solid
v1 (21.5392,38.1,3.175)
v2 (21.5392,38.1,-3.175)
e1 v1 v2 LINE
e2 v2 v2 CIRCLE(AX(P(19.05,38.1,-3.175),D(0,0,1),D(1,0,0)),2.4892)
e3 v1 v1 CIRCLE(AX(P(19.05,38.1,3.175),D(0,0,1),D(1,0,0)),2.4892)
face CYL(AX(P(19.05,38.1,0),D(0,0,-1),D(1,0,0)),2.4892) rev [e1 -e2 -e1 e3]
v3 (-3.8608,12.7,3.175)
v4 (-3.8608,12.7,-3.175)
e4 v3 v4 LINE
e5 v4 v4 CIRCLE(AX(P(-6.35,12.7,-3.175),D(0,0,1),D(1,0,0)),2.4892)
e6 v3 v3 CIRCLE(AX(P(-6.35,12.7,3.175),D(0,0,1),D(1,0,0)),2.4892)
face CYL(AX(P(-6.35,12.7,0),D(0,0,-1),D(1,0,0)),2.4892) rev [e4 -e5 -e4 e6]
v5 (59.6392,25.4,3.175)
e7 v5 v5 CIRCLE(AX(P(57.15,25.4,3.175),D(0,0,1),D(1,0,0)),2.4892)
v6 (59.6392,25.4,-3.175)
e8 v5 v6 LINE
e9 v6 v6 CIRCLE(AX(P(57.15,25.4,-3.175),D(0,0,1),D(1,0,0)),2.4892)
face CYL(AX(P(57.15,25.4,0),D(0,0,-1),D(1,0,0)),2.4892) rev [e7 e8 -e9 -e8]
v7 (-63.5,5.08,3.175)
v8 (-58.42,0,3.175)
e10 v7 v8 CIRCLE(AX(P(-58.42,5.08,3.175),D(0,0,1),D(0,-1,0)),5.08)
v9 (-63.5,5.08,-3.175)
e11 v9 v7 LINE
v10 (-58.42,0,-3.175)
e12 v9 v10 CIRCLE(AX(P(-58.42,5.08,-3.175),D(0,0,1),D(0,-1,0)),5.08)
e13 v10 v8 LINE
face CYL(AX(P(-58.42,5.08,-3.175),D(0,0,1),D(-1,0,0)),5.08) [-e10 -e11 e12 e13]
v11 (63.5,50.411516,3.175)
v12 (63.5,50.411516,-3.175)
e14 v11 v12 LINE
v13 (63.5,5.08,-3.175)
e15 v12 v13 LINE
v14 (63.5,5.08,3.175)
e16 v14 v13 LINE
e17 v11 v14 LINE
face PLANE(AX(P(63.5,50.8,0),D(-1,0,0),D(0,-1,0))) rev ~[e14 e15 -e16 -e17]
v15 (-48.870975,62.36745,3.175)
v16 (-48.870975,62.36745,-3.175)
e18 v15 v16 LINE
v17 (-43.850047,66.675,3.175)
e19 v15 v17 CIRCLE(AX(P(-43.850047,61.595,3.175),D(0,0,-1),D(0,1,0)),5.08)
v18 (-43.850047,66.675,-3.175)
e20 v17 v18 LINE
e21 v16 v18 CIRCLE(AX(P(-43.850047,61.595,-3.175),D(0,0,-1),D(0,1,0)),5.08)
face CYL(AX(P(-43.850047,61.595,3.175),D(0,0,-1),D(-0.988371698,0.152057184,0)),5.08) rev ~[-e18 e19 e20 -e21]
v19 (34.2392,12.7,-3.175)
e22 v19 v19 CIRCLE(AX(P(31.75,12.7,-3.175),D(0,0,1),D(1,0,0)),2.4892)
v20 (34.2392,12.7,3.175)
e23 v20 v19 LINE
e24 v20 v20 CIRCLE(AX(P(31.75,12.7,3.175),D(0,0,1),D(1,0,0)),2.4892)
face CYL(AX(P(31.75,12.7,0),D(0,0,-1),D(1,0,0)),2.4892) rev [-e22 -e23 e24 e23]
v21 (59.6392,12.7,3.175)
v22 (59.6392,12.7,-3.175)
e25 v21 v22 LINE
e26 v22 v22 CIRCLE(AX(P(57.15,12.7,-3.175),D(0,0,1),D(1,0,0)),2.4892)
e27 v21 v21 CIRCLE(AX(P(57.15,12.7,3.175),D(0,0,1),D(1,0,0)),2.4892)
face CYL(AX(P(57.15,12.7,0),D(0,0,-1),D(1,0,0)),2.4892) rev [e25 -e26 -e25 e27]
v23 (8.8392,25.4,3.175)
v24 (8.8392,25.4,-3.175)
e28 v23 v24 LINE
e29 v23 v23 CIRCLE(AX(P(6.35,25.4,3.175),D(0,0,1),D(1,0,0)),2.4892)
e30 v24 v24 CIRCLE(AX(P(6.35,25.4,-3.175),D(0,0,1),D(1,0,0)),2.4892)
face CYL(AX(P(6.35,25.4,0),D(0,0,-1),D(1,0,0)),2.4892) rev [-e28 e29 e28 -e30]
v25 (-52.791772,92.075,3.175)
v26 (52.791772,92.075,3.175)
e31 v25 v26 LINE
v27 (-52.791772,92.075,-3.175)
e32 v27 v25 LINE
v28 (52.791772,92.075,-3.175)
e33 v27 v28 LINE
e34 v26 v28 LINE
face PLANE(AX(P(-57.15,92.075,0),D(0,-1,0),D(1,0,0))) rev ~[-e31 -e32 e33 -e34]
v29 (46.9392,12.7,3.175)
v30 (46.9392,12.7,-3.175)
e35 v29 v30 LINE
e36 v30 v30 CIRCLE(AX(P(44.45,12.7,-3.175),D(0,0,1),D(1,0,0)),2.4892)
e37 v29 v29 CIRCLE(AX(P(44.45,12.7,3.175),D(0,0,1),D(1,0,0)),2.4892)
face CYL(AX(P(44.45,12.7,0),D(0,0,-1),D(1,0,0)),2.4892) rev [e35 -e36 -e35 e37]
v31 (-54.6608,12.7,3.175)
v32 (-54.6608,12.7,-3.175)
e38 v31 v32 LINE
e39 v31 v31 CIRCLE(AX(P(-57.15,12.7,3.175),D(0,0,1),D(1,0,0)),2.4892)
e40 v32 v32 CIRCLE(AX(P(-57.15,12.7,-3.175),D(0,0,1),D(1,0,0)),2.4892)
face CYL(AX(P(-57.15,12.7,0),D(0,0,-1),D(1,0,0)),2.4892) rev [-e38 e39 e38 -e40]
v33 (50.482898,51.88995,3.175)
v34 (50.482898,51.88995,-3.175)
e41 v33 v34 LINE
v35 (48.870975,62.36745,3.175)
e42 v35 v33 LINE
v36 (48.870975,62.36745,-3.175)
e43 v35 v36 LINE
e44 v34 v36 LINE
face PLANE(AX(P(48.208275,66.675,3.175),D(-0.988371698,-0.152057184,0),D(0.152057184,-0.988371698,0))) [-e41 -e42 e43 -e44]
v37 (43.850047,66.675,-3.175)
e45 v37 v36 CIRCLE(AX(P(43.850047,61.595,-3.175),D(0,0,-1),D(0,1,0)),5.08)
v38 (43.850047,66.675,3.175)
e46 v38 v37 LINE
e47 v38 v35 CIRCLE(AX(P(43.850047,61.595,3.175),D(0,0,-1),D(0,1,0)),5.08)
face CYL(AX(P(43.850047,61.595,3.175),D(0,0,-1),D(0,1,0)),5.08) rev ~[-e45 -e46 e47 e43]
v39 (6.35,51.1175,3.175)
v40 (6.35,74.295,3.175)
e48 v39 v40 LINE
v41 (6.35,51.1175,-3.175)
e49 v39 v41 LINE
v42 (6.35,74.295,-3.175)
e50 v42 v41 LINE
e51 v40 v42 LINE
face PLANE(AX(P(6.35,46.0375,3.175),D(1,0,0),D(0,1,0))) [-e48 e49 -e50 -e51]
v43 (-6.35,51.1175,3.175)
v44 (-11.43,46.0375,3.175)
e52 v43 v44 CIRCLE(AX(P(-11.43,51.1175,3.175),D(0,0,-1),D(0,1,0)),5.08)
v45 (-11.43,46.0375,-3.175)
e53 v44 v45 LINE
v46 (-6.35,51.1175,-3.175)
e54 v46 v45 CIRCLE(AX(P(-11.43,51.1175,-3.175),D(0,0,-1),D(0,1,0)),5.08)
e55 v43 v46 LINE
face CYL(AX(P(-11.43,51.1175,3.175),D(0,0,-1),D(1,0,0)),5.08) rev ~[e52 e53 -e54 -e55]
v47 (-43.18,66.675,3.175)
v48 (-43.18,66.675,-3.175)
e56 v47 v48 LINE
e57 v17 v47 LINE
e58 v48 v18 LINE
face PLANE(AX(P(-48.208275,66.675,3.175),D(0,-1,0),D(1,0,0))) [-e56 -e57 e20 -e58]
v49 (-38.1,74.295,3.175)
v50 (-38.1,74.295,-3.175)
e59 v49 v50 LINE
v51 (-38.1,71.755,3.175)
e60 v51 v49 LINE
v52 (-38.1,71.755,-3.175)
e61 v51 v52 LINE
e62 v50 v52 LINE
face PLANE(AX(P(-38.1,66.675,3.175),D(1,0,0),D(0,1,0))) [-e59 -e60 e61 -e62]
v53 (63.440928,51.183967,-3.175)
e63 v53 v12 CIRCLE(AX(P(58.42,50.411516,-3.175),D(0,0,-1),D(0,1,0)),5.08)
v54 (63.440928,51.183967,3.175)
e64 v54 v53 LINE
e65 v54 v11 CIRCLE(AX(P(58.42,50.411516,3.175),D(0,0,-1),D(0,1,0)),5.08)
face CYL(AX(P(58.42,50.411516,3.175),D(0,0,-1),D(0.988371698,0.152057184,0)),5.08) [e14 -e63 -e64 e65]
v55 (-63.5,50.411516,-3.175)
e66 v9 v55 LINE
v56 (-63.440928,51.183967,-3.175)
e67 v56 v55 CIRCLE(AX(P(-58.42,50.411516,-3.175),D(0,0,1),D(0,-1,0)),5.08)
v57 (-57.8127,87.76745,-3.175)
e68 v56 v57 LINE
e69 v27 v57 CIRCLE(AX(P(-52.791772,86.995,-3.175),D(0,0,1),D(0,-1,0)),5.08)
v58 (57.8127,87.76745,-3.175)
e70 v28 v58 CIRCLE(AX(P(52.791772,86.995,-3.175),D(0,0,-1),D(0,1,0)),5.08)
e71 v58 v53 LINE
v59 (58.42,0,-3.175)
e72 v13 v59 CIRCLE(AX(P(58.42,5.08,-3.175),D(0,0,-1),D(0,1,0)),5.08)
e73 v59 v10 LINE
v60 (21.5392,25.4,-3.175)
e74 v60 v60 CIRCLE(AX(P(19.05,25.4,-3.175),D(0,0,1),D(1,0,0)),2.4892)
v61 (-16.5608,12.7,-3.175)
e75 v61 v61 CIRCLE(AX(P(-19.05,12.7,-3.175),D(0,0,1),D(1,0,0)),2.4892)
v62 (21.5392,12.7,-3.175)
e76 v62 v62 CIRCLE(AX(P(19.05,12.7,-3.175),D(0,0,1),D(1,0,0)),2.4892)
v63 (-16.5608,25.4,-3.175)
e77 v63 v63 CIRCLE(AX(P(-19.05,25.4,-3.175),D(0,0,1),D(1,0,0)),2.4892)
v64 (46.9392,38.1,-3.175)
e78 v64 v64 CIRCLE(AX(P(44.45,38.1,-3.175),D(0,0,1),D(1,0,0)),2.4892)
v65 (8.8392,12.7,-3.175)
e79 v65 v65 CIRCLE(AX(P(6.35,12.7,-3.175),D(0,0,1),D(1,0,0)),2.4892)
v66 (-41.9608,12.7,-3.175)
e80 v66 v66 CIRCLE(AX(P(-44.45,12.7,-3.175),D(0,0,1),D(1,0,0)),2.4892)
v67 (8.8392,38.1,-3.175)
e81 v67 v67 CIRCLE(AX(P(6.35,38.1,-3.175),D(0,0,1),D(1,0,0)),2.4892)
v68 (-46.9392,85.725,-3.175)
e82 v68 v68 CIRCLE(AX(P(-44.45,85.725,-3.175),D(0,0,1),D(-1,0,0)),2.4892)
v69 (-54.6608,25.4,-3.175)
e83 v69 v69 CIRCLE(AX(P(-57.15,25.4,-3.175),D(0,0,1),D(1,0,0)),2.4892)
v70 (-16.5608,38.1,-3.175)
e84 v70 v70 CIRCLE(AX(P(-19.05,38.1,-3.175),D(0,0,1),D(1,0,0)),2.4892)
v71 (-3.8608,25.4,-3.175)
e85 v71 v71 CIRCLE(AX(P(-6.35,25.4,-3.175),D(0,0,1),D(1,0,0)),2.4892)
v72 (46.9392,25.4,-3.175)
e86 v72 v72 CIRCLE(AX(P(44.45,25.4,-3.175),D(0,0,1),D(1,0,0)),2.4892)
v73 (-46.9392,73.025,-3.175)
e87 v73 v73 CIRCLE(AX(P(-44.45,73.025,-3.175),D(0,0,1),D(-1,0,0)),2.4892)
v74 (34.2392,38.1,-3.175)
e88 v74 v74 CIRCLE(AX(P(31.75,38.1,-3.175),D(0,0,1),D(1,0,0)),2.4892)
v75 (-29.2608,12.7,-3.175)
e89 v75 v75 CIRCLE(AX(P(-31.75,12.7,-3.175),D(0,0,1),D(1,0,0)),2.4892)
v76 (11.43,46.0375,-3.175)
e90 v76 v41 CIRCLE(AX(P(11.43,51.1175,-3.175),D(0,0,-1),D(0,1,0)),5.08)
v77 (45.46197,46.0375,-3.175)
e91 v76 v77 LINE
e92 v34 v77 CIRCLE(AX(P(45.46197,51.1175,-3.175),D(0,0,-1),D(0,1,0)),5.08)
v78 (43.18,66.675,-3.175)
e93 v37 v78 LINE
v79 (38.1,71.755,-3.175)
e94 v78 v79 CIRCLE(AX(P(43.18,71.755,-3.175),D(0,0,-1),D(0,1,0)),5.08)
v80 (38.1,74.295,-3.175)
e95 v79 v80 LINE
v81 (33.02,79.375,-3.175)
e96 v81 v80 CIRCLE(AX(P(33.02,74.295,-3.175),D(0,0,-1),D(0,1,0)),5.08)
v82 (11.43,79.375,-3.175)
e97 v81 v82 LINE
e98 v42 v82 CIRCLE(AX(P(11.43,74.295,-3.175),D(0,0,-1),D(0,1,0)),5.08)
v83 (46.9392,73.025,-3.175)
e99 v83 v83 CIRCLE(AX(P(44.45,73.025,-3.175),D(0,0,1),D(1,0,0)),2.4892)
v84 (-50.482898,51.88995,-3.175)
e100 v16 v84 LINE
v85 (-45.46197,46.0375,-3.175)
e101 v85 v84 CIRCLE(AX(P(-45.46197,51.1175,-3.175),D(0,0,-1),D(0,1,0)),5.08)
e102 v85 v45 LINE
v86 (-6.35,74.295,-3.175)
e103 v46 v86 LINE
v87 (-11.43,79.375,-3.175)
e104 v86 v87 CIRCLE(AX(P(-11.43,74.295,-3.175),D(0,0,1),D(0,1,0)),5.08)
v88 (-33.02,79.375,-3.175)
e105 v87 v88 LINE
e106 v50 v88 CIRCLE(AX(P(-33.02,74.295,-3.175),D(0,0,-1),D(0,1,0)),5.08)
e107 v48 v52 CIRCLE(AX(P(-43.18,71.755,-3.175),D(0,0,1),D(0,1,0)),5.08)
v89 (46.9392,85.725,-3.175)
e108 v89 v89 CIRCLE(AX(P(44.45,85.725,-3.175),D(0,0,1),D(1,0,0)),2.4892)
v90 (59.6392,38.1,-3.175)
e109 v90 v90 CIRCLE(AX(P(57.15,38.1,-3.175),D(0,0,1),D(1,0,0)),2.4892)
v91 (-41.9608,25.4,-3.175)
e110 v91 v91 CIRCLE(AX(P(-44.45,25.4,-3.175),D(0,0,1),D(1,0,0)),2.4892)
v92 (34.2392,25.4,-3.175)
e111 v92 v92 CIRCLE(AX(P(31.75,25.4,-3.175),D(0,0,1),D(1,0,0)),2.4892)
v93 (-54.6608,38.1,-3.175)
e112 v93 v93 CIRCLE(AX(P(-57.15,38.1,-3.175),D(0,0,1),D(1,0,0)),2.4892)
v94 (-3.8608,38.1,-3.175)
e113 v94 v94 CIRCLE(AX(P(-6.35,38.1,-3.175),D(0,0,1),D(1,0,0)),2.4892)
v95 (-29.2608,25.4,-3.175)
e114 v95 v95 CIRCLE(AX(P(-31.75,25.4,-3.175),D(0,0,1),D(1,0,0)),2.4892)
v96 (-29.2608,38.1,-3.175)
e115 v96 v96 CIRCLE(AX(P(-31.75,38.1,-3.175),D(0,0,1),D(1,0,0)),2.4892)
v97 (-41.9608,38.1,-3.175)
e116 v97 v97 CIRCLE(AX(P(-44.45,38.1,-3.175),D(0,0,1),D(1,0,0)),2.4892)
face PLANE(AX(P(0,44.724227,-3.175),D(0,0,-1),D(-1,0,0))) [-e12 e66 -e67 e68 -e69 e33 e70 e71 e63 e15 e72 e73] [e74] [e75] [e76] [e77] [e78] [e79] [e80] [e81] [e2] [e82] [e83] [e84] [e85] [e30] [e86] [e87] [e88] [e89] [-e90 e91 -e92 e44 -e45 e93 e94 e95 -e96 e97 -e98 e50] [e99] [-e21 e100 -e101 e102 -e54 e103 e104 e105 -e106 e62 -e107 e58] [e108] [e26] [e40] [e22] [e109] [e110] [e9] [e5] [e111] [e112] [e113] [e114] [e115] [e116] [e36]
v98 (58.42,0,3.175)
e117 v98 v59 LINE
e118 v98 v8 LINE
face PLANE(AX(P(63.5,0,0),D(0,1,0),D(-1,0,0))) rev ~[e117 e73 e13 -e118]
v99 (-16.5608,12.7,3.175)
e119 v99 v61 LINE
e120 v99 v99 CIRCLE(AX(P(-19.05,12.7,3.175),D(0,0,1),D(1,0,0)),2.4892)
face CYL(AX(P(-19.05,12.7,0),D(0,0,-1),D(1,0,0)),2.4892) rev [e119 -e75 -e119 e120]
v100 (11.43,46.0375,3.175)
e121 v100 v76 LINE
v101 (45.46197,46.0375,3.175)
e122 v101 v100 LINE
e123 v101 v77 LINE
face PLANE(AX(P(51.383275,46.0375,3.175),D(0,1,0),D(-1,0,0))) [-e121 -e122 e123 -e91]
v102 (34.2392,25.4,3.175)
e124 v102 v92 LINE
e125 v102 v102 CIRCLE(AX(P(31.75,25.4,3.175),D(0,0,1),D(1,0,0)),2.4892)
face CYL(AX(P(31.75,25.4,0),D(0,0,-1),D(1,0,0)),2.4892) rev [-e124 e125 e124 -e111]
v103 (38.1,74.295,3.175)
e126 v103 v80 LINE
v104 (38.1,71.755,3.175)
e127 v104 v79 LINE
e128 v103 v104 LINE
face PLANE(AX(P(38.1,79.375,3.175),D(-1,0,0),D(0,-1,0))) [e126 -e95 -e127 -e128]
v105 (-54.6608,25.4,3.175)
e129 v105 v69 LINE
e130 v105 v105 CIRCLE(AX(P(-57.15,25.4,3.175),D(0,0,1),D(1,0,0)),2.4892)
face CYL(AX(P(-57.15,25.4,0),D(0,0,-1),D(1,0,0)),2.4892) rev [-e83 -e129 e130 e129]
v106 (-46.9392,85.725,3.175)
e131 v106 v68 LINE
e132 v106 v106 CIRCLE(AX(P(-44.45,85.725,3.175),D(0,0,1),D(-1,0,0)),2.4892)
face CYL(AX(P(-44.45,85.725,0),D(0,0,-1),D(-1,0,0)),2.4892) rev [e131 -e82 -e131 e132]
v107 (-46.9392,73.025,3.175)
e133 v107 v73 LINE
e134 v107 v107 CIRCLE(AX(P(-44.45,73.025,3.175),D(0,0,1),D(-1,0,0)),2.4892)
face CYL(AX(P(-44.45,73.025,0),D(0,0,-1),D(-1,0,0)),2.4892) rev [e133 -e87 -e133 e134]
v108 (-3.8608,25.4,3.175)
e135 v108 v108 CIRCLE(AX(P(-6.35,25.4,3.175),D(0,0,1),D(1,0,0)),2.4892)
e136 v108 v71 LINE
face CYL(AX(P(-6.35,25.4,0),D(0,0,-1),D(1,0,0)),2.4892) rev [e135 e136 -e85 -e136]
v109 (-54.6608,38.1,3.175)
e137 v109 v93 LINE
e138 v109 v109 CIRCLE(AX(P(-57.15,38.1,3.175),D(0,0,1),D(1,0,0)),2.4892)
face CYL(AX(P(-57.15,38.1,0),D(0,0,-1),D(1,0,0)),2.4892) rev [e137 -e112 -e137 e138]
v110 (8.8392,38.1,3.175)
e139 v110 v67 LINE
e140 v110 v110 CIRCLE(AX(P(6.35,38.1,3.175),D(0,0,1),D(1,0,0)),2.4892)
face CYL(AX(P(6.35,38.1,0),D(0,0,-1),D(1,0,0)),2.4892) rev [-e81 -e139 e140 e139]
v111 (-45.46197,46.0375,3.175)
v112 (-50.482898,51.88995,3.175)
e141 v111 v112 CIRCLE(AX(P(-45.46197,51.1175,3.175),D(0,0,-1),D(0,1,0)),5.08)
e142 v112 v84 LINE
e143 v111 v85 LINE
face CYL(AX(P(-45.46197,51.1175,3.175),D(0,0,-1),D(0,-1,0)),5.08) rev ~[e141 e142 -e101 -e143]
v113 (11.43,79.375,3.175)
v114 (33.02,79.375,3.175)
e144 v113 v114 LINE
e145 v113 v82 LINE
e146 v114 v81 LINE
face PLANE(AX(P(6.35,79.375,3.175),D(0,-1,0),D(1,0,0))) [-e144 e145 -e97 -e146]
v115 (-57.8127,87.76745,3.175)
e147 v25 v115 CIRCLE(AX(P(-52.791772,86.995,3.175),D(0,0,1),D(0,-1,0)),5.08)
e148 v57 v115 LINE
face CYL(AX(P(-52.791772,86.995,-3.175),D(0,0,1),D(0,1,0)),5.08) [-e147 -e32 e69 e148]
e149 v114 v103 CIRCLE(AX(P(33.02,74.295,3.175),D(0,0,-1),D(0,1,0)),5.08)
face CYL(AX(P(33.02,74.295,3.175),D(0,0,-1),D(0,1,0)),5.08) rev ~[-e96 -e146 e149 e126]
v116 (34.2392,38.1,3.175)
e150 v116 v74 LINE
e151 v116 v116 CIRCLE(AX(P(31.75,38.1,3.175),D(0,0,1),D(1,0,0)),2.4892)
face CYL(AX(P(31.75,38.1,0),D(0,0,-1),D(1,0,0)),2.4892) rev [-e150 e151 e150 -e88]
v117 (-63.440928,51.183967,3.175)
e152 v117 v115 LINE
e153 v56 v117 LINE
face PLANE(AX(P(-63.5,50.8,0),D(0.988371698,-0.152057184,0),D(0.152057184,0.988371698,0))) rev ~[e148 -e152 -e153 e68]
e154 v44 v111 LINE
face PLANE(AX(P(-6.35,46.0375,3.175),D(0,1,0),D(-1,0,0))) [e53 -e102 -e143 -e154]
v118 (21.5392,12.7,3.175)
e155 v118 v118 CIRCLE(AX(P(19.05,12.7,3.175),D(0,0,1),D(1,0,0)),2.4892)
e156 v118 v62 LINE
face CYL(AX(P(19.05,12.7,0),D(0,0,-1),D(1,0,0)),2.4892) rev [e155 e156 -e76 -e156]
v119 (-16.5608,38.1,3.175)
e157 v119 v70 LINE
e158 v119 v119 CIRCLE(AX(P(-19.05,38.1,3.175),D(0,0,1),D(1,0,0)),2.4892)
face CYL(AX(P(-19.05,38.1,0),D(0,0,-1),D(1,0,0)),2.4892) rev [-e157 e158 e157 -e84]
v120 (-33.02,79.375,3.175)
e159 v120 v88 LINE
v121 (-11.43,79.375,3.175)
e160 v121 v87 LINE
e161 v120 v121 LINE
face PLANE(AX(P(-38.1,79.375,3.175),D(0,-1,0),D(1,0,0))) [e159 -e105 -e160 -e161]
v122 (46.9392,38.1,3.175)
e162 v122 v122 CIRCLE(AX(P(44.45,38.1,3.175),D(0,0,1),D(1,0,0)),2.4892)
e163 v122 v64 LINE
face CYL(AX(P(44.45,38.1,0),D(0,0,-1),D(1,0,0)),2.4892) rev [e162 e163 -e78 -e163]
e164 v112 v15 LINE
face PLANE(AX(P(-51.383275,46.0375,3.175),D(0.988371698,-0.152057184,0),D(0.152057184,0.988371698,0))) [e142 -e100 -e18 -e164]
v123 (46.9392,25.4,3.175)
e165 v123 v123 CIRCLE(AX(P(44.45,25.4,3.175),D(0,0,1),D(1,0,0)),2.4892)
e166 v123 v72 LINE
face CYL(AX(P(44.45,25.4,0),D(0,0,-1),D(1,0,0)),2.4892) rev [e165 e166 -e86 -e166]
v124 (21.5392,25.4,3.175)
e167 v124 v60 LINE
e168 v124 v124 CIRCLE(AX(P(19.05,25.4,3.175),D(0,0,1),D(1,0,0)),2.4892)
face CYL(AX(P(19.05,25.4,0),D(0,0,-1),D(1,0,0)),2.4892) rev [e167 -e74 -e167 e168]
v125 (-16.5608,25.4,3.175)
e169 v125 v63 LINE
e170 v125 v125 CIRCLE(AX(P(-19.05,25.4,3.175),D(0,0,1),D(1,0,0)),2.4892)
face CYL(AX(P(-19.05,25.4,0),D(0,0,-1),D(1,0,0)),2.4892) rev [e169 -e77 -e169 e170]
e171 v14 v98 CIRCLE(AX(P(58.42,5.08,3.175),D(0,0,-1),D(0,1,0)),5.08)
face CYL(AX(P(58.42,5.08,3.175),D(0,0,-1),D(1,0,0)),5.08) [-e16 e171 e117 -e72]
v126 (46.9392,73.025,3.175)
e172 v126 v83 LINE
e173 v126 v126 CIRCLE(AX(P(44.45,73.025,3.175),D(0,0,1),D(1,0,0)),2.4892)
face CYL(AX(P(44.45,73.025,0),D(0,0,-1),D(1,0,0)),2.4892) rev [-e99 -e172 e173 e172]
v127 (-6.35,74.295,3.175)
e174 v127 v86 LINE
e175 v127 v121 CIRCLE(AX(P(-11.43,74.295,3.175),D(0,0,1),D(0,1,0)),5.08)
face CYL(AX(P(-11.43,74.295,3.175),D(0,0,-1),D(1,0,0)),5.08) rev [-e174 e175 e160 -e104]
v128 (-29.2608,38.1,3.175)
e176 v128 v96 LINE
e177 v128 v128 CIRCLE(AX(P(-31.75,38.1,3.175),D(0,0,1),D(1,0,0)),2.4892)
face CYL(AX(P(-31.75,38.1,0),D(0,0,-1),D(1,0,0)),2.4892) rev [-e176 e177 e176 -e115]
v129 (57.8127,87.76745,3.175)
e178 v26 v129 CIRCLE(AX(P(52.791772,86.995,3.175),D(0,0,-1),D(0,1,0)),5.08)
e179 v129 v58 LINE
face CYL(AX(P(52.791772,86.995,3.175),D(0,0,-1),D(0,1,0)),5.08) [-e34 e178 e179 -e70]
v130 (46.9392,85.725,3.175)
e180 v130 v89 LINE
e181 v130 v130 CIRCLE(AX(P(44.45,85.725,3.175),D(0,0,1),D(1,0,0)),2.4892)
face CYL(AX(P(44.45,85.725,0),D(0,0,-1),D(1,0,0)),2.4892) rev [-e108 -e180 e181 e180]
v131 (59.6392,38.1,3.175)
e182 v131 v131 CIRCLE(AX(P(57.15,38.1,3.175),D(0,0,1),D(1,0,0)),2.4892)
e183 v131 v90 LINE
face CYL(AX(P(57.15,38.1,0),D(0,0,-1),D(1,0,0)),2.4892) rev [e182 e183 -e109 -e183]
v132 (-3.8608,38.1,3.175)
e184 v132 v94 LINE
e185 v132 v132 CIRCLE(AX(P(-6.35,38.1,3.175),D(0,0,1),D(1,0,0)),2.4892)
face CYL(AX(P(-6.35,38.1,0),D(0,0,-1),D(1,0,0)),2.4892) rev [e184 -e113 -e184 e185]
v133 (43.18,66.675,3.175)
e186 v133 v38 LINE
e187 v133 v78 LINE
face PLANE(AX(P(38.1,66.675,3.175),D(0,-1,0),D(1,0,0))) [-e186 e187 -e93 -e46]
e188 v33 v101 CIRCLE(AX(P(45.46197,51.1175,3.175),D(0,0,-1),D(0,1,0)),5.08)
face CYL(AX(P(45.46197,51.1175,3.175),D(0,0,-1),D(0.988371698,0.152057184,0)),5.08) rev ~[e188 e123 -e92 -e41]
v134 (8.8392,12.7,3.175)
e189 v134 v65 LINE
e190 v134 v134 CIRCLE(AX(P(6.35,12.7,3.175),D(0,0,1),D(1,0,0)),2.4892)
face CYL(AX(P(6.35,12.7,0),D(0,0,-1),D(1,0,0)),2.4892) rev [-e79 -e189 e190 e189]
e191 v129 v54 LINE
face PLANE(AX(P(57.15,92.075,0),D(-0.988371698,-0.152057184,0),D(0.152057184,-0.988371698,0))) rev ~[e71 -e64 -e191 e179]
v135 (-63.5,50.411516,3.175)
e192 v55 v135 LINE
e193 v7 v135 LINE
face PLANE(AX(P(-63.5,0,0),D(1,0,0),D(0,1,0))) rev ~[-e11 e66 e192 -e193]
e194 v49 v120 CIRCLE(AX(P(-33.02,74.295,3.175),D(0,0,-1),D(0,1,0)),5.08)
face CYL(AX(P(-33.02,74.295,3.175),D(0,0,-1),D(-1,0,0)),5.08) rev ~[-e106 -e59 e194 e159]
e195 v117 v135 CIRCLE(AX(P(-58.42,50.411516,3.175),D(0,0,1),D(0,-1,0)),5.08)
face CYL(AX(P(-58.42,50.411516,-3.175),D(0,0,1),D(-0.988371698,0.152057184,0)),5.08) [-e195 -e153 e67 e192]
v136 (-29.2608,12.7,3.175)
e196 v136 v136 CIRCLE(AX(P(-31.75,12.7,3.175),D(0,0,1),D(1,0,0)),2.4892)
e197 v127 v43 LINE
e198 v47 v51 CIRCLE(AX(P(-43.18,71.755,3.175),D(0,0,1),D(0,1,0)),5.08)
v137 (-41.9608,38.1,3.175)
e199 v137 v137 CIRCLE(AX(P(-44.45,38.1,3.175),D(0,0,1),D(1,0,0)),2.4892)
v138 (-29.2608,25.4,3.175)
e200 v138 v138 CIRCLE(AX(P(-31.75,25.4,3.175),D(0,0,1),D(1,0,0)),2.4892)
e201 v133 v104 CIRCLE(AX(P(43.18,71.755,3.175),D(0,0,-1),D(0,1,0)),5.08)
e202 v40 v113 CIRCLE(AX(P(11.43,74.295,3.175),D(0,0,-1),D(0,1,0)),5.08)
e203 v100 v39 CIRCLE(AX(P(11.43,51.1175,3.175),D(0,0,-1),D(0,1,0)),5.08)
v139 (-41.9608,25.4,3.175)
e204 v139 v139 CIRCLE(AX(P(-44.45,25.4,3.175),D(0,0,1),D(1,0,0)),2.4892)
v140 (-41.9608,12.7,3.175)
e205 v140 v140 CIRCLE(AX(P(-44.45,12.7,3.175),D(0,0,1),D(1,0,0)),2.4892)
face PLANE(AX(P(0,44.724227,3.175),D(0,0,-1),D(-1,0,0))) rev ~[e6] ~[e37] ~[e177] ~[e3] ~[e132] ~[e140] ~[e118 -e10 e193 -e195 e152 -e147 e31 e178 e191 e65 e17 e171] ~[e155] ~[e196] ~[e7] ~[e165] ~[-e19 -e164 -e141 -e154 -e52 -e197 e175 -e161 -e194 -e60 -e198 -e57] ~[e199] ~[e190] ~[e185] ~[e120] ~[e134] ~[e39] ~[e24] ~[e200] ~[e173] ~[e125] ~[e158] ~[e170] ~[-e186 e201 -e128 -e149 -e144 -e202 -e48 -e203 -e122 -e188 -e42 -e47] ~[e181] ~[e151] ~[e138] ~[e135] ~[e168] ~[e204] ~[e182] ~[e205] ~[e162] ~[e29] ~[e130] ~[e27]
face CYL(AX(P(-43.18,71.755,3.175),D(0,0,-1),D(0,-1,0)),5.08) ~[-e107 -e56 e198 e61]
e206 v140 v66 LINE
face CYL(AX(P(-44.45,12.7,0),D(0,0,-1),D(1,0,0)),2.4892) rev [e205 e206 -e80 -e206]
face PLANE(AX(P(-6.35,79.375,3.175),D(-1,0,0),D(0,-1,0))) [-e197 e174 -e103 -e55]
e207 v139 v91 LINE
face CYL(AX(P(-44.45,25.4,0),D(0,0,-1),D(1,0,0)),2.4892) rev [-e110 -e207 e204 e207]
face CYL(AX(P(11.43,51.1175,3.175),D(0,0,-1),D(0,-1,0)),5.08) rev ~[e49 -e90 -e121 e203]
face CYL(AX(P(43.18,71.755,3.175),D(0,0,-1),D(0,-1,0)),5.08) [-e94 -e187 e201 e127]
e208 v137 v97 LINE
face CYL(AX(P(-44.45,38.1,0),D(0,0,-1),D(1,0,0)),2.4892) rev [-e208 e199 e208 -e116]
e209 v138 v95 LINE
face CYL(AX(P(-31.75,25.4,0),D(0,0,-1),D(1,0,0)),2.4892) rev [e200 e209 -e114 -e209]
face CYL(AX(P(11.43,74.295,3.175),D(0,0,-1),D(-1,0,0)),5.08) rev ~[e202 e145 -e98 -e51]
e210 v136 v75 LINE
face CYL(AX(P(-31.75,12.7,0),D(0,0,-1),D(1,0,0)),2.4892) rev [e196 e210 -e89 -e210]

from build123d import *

# Parameters (mm, degrees)
SKETCH1_R           = 2.4892
BOSS_EXTRUDE1_DEPTH = 3.175
CUT_EXTRUDE1_DEPTH  = 113.028470154
FILLET1_R           = 5.08


with BuildPart() as part:
    # Sketch1 → Boss-Extrude1 (new, symmetric)
    with BuildSketch(Plane.XY):
        Polygon((-57.15, 92.075), (57.15, 92.075), (63.5, 50.8), (63.5, 0), (-63.5, 0), (-63.5, 50.8), align=None)
        with Locations((44.45, 73.025)):
            Circle(SKETCH1_R, mode=Mode.SUBTRACT)
        with Locations((44.45, 85.725)):
            Circle(SKETCH1_R, mode=Mode.SUBTRACT)
        with Locations(Location((-44.45, 73.025, 0), (0, 0, 180))):
            Circle(SKETCH1_R, mode=Mode.SUBTRACT)
        with Locations(Location((-44.45, 85.725, 0), (0, 0, 180))):
            Circle(SKETCH1_R, mode=Mode.SUBTRACT)
        with Locations((6.35, 12.7)):
            Circle(SKETCH1_R, mode=Mode.SUBTRACT)
        with Locations((6.35, 25.4)):
            Circle(SKETCH1_R, mode=Mode.SUBTRACT)
        with Locations((6.35, 38.1)):
            Circle(SKETCH1_R, mode=Mode.SUBTRACT)
        with Locations((19.05, 38.1)):
            Circle(SKETCH1_R, mode=Mode.SUBTRACT)
        with Locations((19.05, 25.4)):
            Circle(SKETCH1_R, mode=Mode.SUBTRACT)
        with Locations((19.05, 12.7)):
            Circle(SKETCH1_R, mode=Mode.SUBTRACT)
        with Locations((31.75, 38.1)):
            Circle(SKETCH1_R, mode=Mode.SUBTRACT)
        with Locations((31.75, 25.4)):
            Circle(SKETCH1_R, mode=Mode.SUBTRACT)
        with Locations((31.75, 12.7)):
            Circle(SKETCH1_R, mode=Mode.SUBTRACT)
        with Locations((44.45, 38.1)):
            Circle(SKETCH1_R, mode=Mode.SUBTRACT)
        with Locations((44.45, 25.4)):
            Circle(SKETCH1_R, mode=Mode.SUBTRACT)
        with Locations((44.45, 12.7)):
            Circle(SKETCH1_R, mode=Mode.SUBTRACT)
        with Locations((-6.35, 12.7)):
            Circle(SKETCH1_R, mode=Mode.SUBTRACT)
        with Locations((-6.35, 25.4)):
            Circle(SKETCH1_R, mode=Mode.SUBTRACT)
        with Locations((-6.35, 38.1)):
            Circle(SKETCH1_R, mode=Mode.SUBTRACT)
        with Locations((-19.05, 12.7)):
            Circle(SKETCH1_R, mode=Mode.SUBTRACT)
        with Locations((-19.05, 25.4)):
            Circle(SKETCH1_R, mode=Mode.SUBTRACT)
        with Locations((-19.05, 38.1)):
            Circle(SKETCH1_R, mode=Mode.SUBTRACT)
        with Locations((-31.75, 12.7)):
            Circle(SKETCH1_R, mode=Mode.SUBTRACT)
        with Locations((-31.75, 25.4)):
            Circle(SKETCH1_R, mode=Mode.SUBTRACT)
        with Locations((-31.75, 38.1)):
            Circle(SKETCH1_R, mode=Mode.SUBTRACT)
        with Locations((-44.45, 12.7)):
            Circle(SKETCH1_R, mode=Mode.SUBTRACT)
        with Locations((-44.45, 25.4)):
            Circle(SKETCH1_R, mode=Mode.SUBTRACT)
        with Locations((-44.45, 38.1)):
            Circle(SKETCH1_R, mode=Mode.SUBTRACT)
        with Locations((57.15, 38.1)):
            Circle(SKETCH1_R, mode=Mode.SUBTRACT)
        with Locations((57.15, 25.4)):
            Circle(SKETCH1_R, mode=Mode.SUBTRACT)
        with Locations((57.15, 12.7)):
            Circle(SKETCH1_R, mode=Mode.SUBTRACT)
        with Locations((-57.15, 12.7)):
            Circle(SKETCH1_R, mode=Mode.SUBTRACT)
        with Locations((-57.15, 25.4)):
            Circle(SKETCH1_R, mode=Mode.SUBTRACT)
        with Locations((-57.15, 38.1)):
            Circle(SKETCH1_R, mode=Mode.SUBTRACT)
    extrude(amount=BOSS_EXTRUDE1_DEPTH, both=True)

    # Sketch2 → Cut-Extrude1 (cut, through all)
    with BuildSketch(Plane.XY.offset(3.175)):
        Polygon((-38.1, 79.375), (-6.35, 79.375), (-6.35, 46.0375), (-51.383275403, 46.0375), (-48.208275403, 66.675), (-38.1, 66.675), align=None)
        Polygon((38.1, 79.375), (38.1, 66.675), (48.208275403, 66.675), (51.383275403, 46.0375), (6.35, 46.0375), (6.35, 79.375), align=None)
    extrude(amount=-CUT_EXTRUDE1_DEPTH, mode=Mode.SUBTRACT)

    # Fillet1
    fillet1_edges = [part.edges().sort_by_distance(p)[0] for p in [
        (-57.15, 92.075, 0),
        (57.15, 92.075, 0),
        (63.5, 50.8, 0),
        (63.5, 0, 0),
        (-63.5, 0, 0),
        (-63.5, 50.8, 0),
        (-6.35, 79.375, 0),
        (-6.35, 46.0375, 0),
        (-51.383275403, 46.0375, 0),
        (-48.208275403, 66.675, 0),
        (-38.1, 66.675, 0),
        (-38.1, 79.375, 0),
        (6.35, 79.375, 0),
        (38.1, 79.375, 0),
        (38.1, 66.675, 0),
        (48.208275403, 66.675, 0),
        (51.383275403, 46.0375, 0),
        (6.35, 46.0375, 0),
    ]]
    fillet(fillet1_edges, radius=FILLET1_R)


solid = part.part
